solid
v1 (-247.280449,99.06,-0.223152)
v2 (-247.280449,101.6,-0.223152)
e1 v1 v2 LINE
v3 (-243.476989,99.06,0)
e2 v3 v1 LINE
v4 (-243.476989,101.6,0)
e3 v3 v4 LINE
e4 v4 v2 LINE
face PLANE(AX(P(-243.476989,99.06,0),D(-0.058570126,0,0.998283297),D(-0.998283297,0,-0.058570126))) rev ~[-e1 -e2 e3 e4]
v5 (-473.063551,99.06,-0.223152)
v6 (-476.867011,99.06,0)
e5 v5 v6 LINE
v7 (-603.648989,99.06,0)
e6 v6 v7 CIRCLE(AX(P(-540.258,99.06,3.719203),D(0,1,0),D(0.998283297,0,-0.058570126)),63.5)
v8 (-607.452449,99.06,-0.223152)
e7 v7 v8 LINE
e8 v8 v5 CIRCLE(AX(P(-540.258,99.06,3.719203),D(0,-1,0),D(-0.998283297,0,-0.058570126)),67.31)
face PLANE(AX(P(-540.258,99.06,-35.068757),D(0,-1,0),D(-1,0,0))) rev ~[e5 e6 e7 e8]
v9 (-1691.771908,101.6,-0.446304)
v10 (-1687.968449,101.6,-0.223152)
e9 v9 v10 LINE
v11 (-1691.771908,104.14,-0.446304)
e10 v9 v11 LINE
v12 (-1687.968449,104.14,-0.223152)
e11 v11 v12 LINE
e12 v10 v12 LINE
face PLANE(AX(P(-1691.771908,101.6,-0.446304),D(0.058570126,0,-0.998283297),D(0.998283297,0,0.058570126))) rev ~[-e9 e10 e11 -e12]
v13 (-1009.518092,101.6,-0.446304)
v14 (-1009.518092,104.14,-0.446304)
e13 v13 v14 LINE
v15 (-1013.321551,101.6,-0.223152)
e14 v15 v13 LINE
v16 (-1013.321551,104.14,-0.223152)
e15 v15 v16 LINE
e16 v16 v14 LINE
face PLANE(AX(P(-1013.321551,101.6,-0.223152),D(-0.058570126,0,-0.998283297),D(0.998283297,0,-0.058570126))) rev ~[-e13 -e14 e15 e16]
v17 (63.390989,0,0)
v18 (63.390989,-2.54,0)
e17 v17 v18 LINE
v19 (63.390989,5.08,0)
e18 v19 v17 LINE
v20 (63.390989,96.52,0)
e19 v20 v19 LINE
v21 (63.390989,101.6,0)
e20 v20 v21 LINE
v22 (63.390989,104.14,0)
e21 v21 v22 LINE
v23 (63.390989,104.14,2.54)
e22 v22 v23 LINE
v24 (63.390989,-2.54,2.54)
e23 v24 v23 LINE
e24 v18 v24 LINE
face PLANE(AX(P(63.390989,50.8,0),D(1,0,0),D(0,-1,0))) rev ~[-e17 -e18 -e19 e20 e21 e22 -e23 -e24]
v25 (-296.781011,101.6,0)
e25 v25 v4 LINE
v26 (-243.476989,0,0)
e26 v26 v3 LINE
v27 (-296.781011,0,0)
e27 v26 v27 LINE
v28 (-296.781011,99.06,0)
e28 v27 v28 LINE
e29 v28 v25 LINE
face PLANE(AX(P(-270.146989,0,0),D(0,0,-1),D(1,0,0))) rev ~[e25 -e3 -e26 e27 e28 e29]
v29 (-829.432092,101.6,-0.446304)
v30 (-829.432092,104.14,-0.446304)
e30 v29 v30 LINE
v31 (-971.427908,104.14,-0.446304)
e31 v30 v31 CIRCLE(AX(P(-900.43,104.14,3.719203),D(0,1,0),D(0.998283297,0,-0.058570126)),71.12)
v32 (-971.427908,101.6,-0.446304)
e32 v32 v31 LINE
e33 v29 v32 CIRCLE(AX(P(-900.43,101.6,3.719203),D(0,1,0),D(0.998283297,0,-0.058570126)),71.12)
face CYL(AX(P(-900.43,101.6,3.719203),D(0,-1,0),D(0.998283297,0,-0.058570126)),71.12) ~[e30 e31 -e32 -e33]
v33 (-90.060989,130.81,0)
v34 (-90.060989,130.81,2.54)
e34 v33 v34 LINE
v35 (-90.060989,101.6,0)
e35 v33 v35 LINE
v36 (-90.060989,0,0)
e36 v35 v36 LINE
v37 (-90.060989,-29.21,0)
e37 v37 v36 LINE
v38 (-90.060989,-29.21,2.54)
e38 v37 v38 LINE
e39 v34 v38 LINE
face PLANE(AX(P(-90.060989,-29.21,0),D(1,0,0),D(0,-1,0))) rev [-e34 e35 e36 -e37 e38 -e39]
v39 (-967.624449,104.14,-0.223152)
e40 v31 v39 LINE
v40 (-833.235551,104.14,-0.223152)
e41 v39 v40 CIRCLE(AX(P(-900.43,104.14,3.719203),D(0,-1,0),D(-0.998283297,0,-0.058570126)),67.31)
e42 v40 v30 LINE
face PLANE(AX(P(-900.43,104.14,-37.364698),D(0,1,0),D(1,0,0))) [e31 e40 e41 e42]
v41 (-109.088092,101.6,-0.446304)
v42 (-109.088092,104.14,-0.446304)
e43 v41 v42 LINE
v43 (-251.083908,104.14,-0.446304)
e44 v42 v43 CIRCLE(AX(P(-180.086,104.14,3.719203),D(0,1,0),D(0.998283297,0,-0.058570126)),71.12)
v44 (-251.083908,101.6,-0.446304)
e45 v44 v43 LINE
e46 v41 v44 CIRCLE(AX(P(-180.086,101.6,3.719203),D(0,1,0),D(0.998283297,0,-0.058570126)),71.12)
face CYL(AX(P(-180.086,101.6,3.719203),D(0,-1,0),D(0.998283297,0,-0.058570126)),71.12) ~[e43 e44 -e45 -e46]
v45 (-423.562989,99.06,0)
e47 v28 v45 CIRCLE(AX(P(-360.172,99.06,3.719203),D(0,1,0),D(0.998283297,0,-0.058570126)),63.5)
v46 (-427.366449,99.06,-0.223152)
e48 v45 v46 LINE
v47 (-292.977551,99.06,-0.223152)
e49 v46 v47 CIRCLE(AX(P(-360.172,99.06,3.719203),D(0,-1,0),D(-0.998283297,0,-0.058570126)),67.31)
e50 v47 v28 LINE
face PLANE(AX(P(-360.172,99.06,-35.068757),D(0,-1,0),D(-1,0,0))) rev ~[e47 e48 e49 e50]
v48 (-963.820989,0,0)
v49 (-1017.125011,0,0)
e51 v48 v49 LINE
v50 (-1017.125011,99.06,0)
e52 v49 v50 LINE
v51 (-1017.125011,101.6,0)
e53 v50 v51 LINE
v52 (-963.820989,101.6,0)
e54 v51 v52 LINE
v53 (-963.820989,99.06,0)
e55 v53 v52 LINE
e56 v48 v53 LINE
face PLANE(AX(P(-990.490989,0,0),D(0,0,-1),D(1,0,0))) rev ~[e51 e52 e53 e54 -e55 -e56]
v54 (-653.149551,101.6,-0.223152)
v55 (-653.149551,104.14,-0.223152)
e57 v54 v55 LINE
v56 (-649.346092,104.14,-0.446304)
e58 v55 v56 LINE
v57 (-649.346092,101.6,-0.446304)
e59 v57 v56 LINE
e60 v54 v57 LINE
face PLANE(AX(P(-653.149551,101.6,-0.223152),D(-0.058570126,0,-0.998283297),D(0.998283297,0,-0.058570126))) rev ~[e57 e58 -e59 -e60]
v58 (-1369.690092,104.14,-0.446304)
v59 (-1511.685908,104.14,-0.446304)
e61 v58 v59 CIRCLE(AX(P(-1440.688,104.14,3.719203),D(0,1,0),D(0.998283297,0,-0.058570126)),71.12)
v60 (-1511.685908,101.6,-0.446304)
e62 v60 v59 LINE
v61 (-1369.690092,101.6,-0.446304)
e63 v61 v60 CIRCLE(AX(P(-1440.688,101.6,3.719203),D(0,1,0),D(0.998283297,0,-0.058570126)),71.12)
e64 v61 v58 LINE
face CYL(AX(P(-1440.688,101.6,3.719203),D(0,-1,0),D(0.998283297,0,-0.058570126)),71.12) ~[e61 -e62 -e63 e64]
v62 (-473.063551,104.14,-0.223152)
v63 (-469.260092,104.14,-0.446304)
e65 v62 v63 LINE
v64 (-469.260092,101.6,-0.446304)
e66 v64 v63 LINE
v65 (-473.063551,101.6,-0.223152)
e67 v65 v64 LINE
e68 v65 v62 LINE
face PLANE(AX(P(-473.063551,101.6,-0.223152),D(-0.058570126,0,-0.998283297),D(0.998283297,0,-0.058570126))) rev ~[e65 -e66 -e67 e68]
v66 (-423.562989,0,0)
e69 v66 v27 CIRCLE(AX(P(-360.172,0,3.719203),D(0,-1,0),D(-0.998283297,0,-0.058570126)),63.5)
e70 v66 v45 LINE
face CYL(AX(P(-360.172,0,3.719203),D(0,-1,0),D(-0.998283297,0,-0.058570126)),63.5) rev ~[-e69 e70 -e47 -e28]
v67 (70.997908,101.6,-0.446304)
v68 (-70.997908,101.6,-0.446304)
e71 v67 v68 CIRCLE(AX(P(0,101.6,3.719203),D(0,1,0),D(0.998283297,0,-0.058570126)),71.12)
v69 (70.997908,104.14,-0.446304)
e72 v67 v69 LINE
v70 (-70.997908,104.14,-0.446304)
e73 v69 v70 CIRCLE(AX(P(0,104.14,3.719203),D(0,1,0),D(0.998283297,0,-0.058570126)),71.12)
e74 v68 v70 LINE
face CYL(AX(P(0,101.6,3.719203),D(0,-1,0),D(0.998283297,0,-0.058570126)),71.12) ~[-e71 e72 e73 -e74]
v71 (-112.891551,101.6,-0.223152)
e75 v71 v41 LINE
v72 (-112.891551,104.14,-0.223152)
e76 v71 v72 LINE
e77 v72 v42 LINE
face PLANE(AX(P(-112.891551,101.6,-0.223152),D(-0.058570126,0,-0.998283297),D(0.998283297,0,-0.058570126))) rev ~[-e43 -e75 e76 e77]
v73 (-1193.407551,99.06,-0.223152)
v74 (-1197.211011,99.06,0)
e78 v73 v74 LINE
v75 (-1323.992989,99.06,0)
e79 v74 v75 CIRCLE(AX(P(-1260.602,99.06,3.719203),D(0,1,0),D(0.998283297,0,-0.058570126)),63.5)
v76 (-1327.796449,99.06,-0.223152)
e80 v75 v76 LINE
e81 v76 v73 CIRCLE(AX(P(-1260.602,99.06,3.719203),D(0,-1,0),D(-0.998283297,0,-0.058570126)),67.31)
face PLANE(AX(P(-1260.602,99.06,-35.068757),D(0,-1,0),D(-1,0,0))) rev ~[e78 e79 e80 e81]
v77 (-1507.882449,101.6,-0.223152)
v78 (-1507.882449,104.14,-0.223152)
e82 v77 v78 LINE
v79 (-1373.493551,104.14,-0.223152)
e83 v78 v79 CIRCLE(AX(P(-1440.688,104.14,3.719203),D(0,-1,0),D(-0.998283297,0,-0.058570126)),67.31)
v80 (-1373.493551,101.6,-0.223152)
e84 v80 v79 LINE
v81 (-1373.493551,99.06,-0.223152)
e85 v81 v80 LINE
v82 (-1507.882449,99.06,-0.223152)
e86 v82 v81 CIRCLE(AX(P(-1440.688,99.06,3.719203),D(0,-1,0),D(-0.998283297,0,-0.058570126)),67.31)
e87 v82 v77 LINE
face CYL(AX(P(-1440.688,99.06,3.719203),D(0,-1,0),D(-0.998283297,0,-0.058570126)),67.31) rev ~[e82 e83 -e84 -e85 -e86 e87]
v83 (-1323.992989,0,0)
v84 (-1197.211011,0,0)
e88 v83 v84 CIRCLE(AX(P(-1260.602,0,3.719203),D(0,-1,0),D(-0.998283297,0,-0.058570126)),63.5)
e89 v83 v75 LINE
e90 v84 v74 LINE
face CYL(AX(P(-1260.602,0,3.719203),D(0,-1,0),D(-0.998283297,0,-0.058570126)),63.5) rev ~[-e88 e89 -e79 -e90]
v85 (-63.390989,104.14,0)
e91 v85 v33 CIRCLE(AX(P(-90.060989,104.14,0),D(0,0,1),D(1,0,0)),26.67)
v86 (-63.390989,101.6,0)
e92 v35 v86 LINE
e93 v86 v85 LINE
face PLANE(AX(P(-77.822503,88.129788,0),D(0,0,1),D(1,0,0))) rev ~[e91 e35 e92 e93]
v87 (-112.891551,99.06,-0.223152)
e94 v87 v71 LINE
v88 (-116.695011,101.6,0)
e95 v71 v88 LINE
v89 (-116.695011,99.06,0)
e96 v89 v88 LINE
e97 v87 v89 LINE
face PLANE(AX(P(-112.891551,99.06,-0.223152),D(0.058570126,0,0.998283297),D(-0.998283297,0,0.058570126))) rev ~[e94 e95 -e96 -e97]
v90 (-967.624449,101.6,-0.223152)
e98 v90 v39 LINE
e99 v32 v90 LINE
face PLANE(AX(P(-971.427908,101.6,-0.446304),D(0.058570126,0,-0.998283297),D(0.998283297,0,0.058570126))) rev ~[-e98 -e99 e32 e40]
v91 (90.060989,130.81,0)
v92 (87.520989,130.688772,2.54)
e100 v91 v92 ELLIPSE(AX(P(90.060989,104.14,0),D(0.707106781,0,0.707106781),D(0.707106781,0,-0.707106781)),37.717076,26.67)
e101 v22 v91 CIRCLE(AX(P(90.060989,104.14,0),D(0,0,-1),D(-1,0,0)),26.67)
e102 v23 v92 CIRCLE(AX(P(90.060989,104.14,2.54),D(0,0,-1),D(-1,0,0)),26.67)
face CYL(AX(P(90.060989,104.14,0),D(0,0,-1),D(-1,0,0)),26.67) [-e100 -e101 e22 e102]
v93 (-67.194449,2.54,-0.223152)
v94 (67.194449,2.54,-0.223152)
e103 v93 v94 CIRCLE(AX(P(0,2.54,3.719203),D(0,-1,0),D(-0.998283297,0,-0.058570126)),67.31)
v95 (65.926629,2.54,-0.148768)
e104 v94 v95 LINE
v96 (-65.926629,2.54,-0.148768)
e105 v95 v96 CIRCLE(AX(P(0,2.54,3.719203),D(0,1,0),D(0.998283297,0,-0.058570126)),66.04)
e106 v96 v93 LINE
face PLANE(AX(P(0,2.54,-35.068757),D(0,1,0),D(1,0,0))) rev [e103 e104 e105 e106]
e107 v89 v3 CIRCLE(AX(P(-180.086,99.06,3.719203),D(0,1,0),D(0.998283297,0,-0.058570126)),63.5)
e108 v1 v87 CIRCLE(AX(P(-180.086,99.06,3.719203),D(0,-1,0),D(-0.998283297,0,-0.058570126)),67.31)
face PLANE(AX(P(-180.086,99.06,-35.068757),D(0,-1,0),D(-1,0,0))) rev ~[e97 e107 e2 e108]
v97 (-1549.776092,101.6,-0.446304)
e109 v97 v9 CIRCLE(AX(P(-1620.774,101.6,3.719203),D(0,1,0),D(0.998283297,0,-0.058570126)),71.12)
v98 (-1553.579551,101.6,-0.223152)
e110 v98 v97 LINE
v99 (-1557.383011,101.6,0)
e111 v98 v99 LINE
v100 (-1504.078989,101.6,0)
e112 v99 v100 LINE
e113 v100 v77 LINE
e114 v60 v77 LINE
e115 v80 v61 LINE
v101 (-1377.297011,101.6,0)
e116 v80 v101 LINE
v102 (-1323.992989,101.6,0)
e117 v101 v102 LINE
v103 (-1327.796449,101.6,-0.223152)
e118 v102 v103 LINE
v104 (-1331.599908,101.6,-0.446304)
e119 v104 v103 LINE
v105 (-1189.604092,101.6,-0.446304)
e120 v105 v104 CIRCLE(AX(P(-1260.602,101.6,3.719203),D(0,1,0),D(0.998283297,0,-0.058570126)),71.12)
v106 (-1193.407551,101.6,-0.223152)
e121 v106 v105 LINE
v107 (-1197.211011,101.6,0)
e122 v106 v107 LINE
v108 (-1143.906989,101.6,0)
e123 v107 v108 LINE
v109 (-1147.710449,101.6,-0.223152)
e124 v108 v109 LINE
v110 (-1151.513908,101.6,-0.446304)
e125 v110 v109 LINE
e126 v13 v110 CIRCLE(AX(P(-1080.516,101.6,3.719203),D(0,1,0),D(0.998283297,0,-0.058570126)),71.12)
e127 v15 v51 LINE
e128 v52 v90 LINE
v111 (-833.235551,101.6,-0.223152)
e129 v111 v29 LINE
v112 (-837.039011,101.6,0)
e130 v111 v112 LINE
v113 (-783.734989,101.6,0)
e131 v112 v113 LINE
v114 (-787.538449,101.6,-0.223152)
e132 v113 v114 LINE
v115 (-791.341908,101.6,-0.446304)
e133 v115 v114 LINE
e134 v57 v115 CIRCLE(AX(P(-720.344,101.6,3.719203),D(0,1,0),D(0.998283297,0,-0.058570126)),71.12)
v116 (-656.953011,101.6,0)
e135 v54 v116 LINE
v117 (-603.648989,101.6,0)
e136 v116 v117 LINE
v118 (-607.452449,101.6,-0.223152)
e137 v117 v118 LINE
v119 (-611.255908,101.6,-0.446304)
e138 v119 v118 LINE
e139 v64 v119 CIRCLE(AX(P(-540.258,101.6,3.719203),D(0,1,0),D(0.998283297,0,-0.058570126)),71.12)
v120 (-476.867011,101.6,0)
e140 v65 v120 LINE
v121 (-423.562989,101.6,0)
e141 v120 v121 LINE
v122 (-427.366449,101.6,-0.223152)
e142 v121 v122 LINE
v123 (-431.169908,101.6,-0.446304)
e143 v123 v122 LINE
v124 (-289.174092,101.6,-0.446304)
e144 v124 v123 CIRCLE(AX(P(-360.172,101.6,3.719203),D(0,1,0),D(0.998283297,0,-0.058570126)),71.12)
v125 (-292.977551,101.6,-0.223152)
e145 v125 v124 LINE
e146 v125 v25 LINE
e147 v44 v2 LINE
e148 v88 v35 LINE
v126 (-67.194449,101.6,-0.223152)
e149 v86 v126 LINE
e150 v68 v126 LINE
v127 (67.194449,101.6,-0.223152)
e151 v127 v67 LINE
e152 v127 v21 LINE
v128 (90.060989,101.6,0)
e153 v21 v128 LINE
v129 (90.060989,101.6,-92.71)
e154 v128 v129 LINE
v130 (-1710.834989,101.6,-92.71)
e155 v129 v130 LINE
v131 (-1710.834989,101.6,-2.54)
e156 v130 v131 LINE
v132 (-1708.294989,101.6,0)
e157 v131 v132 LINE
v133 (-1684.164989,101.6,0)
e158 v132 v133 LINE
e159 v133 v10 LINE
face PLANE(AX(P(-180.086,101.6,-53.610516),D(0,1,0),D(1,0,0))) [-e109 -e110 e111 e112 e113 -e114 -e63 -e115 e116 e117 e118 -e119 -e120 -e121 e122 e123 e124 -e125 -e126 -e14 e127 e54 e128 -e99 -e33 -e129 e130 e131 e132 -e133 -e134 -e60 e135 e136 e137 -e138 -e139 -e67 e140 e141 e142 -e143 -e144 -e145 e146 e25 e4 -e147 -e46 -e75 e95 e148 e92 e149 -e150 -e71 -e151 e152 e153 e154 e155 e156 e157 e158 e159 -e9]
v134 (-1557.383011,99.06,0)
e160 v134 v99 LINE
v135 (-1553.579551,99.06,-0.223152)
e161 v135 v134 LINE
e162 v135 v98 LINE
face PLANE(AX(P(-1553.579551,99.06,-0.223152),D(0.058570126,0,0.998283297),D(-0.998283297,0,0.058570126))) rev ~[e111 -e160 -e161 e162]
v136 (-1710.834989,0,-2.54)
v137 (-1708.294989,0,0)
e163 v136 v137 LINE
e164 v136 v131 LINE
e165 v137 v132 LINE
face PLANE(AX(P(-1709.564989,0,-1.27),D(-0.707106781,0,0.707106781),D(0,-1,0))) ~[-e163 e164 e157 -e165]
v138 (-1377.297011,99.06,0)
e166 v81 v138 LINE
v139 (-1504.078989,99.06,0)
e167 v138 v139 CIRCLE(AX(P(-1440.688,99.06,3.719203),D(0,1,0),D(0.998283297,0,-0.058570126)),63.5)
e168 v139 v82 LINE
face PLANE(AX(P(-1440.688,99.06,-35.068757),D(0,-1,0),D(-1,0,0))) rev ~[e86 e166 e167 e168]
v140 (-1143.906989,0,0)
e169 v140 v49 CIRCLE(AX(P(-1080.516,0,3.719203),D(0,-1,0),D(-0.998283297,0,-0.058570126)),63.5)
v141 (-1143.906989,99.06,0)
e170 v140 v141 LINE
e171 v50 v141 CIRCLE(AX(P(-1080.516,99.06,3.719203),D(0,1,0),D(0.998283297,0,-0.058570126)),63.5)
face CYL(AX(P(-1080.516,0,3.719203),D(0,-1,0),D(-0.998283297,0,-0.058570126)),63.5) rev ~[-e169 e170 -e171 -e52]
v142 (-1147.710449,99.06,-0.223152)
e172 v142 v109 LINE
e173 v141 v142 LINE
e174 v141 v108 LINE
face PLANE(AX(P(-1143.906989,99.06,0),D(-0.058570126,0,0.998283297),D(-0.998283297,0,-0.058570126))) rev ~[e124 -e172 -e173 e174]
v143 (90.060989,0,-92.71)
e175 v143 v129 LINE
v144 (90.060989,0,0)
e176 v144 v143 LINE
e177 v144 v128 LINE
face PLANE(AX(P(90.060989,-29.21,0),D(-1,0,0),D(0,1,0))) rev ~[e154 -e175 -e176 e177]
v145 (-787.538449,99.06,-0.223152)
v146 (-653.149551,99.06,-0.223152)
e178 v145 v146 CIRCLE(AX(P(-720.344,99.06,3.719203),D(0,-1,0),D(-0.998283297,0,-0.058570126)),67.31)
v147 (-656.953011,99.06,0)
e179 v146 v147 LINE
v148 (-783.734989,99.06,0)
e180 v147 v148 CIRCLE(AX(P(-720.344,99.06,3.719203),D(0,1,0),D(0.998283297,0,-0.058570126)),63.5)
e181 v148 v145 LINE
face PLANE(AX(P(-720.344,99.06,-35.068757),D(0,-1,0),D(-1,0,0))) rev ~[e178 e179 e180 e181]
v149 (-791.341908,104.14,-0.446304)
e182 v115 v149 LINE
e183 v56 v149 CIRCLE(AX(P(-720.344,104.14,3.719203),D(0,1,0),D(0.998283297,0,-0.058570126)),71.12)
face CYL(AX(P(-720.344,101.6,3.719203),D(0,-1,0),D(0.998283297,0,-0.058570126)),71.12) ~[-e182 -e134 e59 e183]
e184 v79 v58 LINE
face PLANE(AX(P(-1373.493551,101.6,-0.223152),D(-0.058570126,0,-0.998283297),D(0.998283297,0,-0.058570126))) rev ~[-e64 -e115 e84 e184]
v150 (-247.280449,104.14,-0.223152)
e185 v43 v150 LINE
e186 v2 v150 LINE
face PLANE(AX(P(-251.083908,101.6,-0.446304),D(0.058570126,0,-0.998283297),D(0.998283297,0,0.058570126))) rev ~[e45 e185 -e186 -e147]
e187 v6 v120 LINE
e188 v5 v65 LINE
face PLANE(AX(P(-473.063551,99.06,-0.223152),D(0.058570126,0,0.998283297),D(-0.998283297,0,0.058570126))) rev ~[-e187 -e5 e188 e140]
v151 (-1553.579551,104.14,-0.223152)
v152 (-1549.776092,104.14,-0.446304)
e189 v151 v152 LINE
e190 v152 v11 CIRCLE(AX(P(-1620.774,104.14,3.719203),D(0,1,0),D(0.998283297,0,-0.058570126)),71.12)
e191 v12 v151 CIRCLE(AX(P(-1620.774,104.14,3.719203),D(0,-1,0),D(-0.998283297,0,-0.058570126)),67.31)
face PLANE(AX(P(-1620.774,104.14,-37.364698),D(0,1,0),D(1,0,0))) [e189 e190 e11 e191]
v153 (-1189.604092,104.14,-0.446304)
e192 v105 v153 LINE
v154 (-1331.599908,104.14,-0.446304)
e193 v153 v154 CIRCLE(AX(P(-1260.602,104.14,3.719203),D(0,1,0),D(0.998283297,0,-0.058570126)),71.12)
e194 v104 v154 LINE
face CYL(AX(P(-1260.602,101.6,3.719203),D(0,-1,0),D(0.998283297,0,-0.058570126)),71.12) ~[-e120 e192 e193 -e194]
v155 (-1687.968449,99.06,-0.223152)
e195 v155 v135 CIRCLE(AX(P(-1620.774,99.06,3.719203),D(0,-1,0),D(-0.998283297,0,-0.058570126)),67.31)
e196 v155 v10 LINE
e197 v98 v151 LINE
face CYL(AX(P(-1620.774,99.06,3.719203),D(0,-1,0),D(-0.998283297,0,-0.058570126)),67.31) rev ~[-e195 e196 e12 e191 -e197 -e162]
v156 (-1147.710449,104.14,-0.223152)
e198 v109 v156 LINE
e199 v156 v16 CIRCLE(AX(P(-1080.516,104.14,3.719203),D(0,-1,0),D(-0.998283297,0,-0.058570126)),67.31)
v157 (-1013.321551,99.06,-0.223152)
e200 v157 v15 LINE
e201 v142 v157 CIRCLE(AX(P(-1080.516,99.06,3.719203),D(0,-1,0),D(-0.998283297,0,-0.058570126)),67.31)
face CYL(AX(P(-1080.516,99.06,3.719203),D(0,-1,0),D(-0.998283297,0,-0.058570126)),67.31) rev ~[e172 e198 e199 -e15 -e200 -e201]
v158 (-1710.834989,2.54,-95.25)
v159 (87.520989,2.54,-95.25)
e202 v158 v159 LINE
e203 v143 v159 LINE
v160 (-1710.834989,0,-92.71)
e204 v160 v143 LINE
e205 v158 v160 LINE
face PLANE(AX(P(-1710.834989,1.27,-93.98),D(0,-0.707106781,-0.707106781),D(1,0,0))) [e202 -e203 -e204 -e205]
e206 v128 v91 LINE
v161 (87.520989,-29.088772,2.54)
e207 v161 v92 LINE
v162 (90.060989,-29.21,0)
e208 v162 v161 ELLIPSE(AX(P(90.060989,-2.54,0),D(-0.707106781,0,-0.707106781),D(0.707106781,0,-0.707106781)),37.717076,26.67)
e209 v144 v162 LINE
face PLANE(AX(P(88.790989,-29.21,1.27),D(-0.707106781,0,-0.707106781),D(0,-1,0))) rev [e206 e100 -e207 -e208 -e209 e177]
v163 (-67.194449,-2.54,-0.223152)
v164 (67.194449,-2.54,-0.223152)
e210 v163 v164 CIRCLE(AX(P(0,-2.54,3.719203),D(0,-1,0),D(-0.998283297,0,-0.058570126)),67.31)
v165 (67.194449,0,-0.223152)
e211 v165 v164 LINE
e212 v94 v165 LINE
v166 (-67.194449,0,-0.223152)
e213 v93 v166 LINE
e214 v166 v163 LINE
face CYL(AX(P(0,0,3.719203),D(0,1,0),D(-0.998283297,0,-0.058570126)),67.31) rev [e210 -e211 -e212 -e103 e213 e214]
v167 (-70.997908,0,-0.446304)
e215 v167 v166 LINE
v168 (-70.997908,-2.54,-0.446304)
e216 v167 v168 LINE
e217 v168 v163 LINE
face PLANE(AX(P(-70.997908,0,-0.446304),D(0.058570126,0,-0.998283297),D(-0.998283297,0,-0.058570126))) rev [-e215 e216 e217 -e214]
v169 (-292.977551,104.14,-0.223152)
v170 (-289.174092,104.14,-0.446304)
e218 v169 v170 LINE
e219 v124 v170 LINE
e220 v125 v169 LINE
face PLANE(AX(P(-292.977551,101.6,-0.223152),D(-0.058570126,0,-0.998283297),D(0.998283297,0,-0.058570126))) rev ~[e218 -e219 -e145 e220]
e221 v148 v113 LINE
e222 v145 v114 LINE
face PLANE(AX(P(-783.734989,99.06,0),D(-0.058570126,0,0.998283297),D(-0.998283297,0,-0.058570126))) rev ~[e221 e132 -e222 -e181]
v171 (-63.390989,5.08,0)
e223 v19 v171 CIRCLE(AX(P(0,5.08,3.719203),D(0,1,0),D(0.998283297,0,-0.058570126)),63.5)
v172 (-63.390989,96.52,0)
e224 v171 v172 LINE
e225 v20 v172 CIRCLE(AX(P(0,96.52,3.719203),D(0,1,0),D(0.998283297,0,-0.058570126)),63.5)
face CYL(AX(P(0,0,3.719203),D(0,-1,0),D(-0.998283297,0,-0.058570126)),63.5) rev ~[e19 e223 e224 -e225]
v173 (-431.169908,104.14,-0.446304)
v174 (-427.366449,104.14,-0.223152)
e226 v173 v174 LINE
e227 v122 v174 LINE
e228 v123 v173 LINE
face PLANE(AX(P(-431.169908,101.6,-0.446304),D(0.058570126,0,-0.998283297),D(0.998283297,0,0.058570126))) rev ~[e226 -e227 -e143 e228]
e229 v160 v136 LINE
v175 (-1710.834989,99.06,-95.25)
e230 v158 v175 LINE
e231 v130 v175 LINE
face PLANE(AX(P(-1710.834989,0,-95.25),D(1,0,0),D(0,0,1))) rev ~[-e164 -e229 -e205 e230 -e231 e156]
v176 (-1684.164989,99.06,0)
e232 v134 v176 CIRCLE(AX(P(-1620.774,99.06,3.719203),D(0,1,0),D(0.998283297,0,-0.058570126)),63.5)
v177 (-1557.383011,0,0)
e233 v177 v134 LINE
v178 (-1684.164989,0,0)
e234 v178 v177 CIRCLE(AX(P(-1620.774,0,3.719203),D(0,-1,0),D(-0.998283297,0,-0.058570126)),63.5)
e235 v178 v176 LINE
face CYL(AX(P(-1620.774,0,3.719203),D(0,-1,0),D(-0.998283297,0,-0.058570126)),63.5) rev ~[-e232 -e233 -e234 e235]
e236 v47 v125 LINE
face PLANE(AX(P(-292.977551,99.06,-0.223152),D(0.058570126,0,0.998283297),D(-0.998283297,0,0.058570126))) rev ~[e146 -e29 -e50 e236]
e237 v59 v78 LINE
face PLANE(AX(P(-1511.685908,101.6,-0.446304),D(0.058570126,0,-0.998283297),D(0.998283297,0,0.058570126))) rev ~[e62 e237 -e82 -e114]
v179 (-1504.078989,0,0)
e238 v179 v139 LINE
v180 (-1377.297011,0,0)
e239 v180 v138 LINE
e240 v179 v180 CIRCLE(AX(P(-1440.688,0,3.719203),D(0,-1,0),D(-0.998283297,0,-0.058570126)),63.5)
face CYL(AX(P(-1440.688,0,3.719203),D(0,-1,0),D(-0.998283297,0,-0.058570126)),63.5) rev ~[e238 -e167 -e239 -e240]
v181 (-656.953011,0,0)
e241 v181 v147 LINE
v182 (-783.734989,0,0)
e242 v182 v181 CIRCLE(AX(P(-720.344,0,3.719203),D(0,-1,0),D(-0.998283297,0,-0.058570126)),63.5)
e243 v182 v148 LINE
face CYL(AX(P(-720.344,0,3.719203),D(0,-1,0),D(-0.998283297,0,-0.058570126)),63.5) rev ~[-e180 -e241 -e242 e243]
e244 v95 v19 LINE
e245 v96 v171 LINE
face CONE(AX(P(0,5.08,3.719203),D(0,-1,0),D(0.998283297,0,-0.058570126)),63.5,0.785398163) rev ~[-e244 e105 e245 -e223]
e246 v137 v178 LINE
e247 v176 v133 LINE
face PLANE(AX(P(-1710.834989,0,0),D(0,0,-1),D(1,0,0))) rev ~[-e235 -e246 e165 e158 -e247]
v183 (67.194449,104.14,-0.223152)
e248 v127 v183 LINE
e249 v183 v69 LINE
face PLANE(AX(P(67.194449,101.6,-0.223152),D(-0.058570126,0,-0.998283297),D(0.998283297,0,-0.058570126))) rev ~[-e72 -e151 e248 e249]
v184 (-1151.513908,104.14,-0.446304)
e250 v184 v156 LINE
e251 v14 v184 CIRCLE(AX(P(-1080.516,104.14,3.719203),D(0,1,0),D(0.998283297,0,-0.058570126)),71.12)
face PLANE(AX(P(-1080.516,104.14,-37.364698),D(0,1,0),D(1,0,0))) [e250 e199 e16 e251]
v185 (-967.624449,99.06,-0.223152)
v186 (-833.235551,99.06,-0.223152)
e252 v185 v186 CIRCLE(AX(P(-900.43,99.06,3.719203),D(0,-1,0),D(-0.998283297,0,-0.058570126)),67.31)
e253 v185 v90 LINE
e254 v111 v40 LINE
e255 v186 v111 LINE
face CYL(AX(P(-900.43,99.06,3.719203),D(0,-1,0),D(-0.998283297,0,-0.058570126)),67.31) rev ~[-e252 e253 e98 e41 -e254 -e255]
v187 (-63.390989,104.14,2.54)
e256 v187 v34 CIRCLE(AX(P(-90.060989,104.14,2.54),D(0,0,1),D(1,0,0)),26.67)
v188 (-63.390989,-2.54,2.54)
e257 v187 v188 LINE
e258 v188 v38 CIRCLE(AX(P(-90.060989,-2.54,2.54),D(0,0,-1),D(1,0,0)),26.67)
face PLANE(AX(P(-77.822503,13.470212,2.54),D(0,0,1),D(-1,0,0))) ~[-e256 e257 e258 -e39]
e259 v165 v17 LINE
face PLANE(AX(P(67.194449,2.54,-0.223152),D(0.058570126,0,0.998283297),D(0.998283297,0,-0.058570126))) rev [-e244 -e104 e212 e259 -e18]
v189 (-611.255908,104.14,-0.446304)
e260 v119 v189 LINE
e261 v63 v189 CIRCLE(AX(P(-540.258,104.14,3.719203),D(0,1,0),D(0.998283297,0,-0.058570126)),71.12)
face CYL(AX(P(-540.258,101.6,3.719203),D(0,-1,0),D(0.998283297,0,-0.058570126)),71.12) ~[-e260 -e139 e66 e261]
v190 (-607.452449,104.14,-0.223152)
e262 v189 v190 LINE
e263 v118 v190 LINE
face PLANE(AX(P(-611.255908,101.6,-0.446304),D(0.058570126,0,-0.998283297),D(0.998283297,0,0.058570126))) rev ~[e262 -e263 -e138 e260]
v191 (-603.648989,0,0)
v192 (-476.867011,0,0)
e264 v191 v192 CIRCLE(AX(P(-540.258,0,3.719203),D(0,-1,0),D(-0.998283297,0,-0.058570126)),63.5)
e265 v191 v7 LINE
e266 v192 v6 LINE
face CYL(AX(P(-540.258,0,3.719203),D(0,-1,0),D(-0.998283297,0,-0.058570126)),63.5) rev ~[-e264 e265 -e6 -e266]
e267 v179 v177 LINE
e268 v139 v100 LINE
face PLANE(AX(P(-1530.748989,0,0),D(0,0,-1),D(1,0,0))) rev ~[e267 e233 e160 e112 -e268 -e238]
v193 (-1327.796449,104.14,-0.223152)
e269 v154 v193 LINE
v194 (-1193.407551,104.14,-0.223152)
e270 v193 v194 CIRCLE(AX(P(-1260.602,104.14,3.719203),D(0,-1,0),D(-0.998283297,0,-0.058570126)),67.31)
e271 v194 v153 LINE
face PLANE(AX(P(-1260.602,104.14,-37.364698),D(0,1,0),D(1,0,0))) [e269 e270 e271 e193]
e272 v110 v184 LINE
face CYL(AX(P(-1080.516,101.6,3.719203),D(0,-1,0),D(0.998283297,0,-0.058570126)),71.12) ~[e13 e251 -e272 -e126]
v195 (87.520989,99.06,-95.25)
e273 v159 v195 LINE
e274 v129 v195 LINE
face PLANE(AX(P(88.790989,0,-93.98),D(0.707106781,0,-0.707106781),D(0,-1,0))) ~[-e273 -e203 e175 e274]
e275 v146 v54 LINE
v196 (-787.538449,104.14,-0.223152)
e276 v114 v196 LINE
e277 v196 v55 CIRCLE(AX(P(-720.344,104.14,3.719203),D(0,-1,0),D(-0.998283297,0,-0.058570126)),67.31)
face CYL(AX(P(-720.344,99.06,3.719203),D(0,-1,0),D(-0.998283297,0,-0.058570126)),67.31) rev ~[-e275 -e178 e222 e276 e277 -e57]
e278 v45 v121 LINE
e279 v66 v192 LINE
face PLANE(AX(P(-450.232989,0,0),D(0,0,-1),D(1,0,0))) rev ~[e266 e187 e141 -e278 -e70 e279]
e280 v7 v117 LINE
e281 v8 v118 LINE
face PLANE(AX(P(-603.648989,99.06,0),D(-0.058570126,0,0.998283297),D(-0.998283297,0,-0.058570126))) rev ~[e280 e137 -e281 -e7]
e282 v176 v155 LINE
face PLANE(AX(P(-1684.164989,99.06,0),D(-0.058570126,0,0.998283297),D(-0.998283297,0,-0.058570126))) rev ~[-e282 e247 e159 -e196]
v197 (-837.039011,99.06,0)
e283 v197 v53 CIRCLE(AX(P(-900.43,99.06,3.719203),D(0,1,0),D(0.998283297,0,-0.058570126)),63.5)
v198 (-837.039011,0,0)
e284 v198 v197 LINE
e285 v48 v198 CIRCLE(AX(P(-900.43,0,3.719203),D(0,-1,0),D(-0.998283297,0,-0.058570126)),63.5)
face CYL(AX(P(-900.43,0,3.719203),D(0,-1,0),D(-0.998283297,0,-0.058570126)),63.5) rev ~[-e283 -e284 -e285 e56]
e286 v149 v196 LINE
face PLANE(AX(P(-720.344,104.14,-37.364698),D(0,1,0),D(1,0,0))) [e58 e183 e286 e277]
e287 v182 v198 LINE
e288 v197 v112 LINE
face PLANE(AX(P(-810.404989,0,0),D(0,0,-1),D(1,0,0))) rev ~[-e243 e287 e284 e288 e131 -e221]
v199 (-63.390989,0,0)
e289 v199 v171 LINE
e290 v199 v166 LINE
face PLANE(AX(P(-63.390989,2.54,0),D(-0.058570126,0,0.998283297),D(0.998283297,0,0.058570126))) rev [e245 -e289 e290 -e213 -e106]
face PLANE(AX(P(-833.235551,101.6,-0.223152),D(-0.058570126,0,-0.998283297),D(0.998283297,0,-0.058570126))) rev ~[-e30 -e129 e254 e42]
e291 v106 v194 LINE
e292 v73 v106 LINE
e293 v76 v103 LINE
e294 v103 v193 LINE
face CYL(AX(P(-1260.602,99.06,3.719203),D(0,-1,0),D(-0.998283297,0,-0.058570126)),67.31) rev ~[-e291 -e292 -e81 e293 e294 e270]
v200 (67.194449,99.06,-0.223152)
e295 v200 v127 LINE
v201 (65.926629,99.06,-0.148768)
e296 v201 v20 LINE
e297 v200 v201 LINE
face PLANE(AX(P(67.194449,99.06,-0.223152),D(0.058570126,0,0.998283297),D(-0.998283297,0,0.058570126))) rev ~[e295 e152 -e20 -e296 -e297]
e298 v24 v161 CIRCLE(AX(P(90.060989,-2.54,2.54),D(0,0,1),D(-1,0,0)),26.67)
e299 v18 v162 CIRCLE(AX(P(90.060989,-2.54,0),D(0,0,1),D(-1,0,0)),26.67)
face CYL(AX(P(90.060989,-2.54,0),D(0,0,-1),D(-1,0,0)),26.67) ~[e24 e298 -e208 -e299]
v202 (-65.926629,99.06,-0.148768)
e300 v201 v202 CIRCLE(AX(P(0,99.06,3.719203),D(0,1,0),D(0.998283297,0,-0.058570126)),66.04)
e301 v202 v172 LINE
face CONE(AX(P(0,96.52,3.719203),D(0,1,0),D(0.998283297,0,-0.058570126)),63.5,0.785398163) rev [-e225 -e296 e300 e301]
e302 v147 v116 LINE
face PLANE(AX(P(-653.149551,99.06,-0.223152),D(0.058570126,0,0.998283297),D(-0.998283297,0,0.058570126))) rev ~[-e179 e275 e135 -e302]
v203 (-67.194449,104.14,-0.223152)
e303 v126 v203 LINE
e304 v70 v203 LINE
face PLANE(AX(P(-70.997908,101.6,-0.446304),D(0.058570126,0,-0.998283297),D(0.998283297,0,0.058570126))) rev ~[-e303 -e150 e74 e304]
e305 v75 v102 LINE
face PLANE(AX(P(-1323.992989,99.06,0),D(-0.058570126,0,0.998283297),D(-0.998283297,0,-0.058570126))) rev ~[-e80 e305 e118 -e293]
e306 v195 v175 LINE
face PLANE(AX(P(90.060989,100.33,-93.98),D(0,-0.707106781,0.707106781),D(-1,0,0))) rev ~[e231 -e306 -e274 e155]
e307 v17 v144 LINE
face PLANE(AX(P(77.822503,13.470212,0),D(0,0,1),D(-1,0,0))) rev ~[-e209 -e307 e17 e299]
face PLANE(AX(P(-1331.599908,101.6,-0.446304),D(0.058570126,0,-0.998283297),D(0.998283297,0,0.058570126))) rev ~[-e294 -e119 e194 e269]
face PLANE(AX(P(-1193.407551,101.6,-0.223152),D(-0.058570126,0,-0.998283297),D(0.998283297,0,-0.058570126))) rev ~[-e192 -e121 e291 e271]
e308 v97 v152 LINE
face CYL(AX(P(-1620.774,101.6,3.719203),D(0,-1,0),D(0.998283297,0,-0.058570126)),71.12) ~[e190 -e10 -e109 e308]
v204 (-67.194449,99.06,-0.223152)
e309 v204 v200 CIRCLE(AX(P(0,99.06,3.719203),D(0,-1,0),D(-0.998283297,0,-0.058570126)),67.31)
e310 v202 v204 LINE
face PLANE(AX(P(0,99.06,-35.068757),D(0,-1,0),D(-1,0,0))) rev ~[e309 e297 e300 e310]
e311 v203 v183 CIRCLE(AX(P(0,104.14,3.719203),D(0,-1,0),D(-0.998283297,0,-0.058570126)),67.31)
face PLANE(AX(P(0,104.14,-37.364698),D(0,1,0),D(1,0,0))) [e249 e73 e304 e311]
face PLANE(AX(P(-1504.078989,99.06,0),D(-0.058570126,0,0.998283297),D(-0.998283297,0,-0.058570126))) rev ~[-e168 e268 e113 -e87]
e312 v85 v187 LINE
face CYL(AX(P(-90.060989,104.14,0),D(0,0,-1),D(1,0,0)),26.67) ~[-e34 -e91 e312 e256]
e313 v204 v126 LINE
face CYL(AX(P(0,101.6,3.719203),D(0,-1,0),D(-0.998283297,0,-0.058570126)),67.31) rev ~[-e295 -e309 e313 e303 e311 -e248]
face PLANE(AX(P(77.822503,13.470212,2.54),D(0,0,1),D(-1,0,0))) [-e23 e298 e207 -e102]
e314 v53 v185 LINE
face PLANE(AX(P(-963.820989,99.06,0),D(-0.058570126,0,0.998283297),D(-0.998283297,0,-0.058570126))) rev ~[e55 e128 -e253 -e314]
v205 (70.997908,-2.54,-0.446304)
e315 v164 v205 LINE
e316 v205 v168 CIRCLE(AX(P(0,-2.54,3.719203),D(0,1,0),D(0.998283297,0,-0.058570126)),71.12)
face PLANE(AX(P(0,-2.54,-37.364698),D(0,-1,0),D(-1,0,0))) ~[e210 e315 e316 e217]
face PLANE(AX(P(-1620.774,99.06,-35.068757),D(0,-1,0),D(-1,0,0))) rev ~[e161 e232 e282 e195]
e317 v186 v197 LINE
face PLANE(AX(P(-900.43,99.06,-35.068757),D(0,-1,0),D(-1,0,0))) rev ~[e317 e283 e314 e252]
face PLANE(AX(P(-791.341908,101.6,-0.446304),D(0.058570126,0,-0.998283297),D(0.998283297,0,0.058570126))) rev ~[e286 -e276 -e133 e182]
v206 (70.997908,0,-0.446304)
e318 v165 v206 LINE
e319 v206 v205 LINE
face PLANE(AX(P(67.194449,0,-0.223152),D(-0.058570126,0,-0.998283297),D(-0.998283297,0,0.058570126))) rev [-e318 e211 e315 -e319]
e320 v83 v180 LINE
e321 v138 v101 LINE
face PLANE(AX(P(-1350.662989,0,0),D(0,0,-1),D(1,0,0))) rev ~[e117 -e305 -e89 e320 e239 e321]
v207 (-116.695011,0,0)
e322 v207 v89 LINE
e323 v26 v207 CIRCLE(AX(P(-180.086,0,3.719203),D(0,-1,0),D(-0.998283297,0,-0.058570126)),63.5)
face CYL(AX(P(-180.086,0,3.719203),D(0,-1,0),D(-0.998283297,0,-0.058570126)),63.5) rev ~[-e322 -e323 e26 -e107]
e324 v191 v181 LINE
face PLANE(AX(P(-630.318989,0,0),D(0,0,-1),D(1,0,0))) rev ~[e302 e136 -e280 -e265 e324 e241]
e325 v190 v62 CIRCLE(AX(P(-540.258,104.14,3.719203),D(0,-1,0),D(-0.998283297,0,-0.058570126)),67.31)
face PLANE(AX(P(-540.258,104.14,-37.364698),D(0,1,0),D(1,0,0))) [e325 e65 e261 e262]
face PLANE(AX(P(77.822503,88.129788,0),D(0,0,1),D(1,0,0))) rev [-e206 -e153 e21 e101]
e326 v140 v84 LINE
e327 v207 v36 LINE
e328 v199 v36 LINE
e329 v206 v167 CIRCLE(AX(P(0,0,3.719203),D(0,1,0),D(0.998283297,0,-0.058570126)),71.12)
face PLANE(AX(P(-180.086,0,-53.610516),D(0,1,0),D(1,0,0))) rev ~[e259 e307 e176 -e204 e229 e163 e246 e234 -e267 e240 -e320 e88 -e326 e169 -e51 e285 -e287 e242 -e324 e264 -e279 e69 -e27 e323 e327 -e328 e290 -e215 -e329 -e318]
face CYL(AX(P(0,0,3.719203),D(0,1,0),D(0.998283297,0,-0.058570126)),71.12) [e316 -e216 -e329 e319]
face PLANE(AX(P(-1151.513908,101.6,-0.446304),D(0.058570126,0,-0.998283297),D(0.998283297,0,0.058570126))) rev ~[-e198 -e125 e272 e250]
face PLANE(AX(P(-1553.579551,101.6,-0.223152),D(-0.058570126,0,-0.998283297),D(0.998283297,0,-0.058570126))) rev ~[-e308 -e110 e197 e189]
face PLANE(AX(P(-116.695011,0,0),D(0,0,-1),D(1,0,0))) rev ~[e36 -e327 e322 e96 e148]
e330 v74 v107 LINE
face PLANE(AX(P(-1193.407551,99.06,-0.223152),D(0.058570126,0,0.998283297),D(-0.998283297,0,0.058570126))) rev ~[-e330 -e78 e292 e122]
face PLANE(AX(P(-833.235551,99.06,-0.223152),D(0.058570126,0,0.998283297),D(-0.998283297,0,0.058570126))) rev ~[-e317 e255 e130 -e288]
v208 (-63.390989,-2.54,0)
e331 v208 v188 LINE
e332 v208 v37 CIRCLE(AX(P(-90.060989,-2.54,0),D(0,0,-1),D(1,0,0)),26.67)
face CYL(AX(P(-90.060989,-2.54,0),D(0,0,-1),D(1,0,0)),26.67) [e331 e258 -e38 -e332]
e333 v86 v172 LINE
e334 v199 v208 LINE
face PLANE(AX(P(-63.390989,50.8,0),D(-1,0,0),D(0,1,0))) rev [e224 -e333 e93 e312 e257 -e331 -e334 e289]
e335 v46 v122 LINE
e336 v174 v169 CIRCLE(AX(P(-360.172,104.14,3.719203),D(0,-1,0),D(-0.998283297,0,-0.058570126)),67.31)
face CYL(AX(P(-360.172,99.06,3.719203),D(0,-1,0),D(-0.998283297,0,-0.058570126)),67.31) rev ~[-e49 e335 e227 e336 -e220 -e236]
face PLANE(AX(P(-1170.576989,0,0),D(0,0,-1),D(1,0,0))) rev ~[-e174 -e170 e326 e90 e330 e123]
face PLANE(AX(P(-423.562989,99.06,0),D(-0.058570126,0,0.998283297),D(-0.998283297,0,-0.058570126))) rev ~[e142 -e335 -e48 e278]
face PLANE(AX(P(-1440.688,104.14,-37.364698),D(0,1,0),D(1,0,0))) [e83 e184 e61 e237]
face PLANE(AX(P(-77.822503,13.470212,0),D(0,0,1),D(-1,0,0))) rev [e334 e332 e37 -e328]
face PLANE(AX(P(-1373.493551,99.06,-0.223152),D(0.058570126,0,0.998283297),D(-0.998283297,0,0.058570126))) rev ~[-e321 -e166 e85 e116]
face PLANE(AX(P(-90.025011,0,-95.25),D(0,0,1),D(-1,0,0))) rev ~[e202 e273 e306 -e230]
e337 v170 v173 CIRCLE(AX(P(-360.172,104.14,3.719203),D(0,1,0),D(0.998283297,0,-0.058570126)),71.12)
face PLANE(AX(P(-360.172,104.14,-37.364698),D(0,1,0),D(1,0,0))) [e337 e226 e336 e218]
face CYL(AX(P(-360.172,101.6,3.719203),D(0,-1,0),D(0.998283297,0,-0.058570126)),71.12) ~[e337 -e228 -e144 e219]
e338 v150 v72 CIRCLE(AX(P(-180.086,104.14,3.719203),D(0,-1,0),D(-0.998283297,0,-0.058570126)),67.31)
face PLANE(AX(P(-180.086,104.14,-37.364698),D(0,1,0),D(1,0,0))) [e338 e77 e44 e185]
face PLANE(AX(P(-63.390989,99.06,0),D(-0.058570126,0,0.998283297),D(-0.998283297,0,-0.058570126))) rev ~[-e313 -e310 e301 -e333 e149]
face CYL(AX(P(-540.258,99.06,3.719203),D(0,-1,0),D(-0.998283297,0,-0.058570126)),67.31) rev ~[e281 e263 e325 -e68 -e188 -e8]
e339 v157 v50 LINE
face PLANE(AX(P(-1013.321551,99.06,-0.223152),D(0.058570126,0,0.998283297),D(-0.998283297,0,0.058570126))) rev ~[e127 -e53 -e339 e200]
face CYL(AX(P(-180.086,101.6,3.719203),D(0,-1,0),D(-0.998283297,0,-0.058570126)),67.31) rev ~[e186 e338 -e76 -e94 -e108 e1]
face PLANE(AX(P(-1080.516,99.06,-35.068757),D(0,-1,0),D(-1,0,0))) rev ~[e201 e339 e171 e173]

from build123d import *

# Parameters (mm, degrees)
BOSS_EXTRUDE1_DEPTH      = 101.6
CUT_EXTRUDE1_START       = -2.54
CUT_EXTRUDE1_DEPTH       = 2.54
BOSS_EXTRUDE2_DEPTH      = 2.54
CHAMFER2_SIZE            = 2.54
BOSS_EXTRUDE5_DEPTH      = 2.54
CHAMFER2_OF_MIRROR1_SIZE = 2.54
MIRROR3_COPY_1_DEPTH     = 2.54
MIRROR3_COPY_2_DEPTH     = 2.54
LPATTERN14_COUNT         = 10
LPATTERN14_PITCH         = 180.086
CHAMFER3_SIZE            = 2.54
CHAMFER4_SIZE            = 2.54


with BuildPart() as part:
    # Sketch1 → Boss-Extrude1 (new body)
    with BuildSketch(Plane(origin=(0, 0, 0), x_dir=(1, 0, 0), z_dir=(0, 1, 0))):
        with BuildLine():
            Line((63.390989336, 0), (90.060989336, 0))
            Line((90.060989336, 0), (90.060989336, 95.25))
            Line((90.060989336, 95.25), (-90.060989336, 95.25))
            Line((-90.060989336, 95.25), (-90.060989336, 0))
            Line((-90.060989336, 0), (-63.390989336, 0))
            ThreePointArc((-63.390989336, 0), (0, 59.780796989), (63.390989336, 0))
        make_face()
    boss_extrude1 = extrude(amount=BOSS_EXTRUDE1_DEPTH)

    # Sketch2 → Cut-Extrude1 (cut)
    with BuildSketch(Plane(origin=(0, 101.6, 0), x_dir=(1, 0, 0), z_dir=(0, 1, 0)).offset(CUT_EXTRUDE1_START)):
        with BuildLine():
            Line((67.194448696, 0.223152181), (63.390989336, 0))
            ThreePointArc((63.390989336, 0), (0, 59.780796989), (-63.390989336, 0))
            Line((-63.390989336, 0), (-67.194448696, 0.223152181))
            ThreePointArc((-67.194448696, 0.223152181), (0, 63.590796989), (67.194448696, 0.223152181))
        make_face()
    cut_extrude1 = extrude(amount=CUT_EXTRUDE1_DEPTH, mode=Mode.SUBTRACT)

    # Sketch3 → Boss-Extrude2 (add)
    with BuildSketch(Plane(origin=(0, 101.6, 0), x_dir=(1, 0, 0), z_dir=(0, 1, 0))):
        with BuildLine():
            Line((-70.997908056, 0.446304361), (-67.194448696, 0.223152181))
            ThreePointArc((-67.194448696, 0.223152181), (0, 63.590796989), (67.194448696, 0.223152181))
            Line((67.194448696, 0.223152181), (70.997908056, 0.446304361))
            ThreePointArc((70.997908056, 0.446304361), (0, 67.400796989), (-70.997908056, 0.446304361))
        make_face()
    boss_extrude2 = extrude(amount=BOSS_EXTRUDE2_DEPTH)

    # Chamfer2
    chamfer2_edges = [part.edges().sort_by_distance(p)[0] for p in [
        (0, 99.06, -59.780796989),
    ]]
    chamfer(chamfer2_edges, length=CHAMFER2_SIZE)

    # Sketch4 → Boss-Extrude5 (add)
    with BuildSketch(Plane.XY):
        with BuildLine():
            Line((-90.060989336, 50.8), (-63.390989336, 50.8))
            Line((-63.390989336, 50.8), (-63.390989336, 104.14))
            ThreePointArc((-63.390989336, 104.14), (-71.202451482, 122.998537854), (-90.060989336, 130.81))
            Line((-90.060989336, 130.81), (-90.060989336, 50.8))
        make_face()
    boss_extrude5 = extrude(amount=BOSS_EXTRUDE5_DEPTH)

    # Mirror1: Cut-Extrude1, Boss-Extrude2, Boss-Extrude5 across plane
    add(cut_extrude1.mirror(Plane.ZX.offset(50.8)), mode=Mode.SUBTRACT)
    add(boss_extrude2.mirror(Plane.ZX.offset(50.8)))
    add(boss_extrude5.mirror(Plane.ZX.offset(50.8)))

    # Chamfer2 of Mirror1
    chamfer2_of_mirror1_edges = [part.edges().sort_by_distance(p)[0] for p in [
        (0, 2.54, -59.780796989),
    ]]
    chamfer(chamfer2_of_mirror1_edges, length=CHAMFER2_OF_MIRROR1_SIZE)

    # Mirror2: Boss-Extrude5 across plane
    add(boss_extrude5.mirror(Plane(origin=(0, 0, 0), x_dir=(0, 0, 1), z_dir=(1, 0, 0))))

    # Mirror3 copy 1 sketch → Mirror3 copy 1 (add)
    with BuildSketch(Plane(origin=(0, 101.6, 0), x_dir=(-1, 0, 0), z_dir=(0, 0, 1))):
        with BuildLine():
            Line((-90.060989336, 50.8), (-63.390989336, 50.8))
            Line((-63.390989336, 50.8), (-63.390989336, 104.14))
            ThreePointArc((-63.390989336, 104.14), (-71.202451482, 122.998537854), (-90.060989336, 130.81))
            Line((-90.060989336, 130.81), (-90.060989336, 50.8))
        make_face()
    extrude(amount=MIRROR3_COPY_1_DEPTH)

    # Mirror3 copy 2 sketch → Mirror3 copy 2 (add)
    with BuildSketch(Plane(origin=(0, 101.6, 0), x_dir=(1, 0, 0), z_dir=(0, 0, 1))):
        with BuildLine():
            Line((-90.060989336, -50.8), (-63.390989336, -50.8))
            Line((-63.390989336, -50.8), (-63.390989336, -104.14))
            ThreePointArc((-63.390989336, -104.14), (-71.202451482, -122.998537854), (-90.060989336, -130.81))
            Line((-90.060989336, -130.81), (-90.060989336, -50.8))
        make_face()
    extrude(amount=MIRROR3_COPY_2_DEPTH)

    # LPattern14: Boss-Extrude1, Cut-Extrude1, Boss-Extrude2 ×10
    with Locations(*[(-i * LPATTERN14_PITCH, 0, 0) for i in range(1, LPATTERN14_COUNT)]):
        add(boss_extrude1)
        add(cut_extrude1, mode=Mode.SUBTRACT)
        add(boss_extrude2)

    # Chamfer3
    chamfer3_edges = [part.edges().sort_by_distance(p)[0] for p in [
        (-810.387, 101.6, -95.25),
    ]]
    chamfer(chamfer3_edges, length=CHAMFER3_SIZE)

    # Chamfer4
    chamfer4_edges = [part.edges().sort_by_distance(p)[0] for p in [
        (90.060989336, 50.8, 2.54),
        (-1710.834989336, 50.8, 0),
        (90.060989336, 49.53, -95.25),
        (-810.387, 0, -95.25),
    ]]
    chamfer(chamfer4_edges, length=CHAMFER4_SIZE)


solid = part.part
